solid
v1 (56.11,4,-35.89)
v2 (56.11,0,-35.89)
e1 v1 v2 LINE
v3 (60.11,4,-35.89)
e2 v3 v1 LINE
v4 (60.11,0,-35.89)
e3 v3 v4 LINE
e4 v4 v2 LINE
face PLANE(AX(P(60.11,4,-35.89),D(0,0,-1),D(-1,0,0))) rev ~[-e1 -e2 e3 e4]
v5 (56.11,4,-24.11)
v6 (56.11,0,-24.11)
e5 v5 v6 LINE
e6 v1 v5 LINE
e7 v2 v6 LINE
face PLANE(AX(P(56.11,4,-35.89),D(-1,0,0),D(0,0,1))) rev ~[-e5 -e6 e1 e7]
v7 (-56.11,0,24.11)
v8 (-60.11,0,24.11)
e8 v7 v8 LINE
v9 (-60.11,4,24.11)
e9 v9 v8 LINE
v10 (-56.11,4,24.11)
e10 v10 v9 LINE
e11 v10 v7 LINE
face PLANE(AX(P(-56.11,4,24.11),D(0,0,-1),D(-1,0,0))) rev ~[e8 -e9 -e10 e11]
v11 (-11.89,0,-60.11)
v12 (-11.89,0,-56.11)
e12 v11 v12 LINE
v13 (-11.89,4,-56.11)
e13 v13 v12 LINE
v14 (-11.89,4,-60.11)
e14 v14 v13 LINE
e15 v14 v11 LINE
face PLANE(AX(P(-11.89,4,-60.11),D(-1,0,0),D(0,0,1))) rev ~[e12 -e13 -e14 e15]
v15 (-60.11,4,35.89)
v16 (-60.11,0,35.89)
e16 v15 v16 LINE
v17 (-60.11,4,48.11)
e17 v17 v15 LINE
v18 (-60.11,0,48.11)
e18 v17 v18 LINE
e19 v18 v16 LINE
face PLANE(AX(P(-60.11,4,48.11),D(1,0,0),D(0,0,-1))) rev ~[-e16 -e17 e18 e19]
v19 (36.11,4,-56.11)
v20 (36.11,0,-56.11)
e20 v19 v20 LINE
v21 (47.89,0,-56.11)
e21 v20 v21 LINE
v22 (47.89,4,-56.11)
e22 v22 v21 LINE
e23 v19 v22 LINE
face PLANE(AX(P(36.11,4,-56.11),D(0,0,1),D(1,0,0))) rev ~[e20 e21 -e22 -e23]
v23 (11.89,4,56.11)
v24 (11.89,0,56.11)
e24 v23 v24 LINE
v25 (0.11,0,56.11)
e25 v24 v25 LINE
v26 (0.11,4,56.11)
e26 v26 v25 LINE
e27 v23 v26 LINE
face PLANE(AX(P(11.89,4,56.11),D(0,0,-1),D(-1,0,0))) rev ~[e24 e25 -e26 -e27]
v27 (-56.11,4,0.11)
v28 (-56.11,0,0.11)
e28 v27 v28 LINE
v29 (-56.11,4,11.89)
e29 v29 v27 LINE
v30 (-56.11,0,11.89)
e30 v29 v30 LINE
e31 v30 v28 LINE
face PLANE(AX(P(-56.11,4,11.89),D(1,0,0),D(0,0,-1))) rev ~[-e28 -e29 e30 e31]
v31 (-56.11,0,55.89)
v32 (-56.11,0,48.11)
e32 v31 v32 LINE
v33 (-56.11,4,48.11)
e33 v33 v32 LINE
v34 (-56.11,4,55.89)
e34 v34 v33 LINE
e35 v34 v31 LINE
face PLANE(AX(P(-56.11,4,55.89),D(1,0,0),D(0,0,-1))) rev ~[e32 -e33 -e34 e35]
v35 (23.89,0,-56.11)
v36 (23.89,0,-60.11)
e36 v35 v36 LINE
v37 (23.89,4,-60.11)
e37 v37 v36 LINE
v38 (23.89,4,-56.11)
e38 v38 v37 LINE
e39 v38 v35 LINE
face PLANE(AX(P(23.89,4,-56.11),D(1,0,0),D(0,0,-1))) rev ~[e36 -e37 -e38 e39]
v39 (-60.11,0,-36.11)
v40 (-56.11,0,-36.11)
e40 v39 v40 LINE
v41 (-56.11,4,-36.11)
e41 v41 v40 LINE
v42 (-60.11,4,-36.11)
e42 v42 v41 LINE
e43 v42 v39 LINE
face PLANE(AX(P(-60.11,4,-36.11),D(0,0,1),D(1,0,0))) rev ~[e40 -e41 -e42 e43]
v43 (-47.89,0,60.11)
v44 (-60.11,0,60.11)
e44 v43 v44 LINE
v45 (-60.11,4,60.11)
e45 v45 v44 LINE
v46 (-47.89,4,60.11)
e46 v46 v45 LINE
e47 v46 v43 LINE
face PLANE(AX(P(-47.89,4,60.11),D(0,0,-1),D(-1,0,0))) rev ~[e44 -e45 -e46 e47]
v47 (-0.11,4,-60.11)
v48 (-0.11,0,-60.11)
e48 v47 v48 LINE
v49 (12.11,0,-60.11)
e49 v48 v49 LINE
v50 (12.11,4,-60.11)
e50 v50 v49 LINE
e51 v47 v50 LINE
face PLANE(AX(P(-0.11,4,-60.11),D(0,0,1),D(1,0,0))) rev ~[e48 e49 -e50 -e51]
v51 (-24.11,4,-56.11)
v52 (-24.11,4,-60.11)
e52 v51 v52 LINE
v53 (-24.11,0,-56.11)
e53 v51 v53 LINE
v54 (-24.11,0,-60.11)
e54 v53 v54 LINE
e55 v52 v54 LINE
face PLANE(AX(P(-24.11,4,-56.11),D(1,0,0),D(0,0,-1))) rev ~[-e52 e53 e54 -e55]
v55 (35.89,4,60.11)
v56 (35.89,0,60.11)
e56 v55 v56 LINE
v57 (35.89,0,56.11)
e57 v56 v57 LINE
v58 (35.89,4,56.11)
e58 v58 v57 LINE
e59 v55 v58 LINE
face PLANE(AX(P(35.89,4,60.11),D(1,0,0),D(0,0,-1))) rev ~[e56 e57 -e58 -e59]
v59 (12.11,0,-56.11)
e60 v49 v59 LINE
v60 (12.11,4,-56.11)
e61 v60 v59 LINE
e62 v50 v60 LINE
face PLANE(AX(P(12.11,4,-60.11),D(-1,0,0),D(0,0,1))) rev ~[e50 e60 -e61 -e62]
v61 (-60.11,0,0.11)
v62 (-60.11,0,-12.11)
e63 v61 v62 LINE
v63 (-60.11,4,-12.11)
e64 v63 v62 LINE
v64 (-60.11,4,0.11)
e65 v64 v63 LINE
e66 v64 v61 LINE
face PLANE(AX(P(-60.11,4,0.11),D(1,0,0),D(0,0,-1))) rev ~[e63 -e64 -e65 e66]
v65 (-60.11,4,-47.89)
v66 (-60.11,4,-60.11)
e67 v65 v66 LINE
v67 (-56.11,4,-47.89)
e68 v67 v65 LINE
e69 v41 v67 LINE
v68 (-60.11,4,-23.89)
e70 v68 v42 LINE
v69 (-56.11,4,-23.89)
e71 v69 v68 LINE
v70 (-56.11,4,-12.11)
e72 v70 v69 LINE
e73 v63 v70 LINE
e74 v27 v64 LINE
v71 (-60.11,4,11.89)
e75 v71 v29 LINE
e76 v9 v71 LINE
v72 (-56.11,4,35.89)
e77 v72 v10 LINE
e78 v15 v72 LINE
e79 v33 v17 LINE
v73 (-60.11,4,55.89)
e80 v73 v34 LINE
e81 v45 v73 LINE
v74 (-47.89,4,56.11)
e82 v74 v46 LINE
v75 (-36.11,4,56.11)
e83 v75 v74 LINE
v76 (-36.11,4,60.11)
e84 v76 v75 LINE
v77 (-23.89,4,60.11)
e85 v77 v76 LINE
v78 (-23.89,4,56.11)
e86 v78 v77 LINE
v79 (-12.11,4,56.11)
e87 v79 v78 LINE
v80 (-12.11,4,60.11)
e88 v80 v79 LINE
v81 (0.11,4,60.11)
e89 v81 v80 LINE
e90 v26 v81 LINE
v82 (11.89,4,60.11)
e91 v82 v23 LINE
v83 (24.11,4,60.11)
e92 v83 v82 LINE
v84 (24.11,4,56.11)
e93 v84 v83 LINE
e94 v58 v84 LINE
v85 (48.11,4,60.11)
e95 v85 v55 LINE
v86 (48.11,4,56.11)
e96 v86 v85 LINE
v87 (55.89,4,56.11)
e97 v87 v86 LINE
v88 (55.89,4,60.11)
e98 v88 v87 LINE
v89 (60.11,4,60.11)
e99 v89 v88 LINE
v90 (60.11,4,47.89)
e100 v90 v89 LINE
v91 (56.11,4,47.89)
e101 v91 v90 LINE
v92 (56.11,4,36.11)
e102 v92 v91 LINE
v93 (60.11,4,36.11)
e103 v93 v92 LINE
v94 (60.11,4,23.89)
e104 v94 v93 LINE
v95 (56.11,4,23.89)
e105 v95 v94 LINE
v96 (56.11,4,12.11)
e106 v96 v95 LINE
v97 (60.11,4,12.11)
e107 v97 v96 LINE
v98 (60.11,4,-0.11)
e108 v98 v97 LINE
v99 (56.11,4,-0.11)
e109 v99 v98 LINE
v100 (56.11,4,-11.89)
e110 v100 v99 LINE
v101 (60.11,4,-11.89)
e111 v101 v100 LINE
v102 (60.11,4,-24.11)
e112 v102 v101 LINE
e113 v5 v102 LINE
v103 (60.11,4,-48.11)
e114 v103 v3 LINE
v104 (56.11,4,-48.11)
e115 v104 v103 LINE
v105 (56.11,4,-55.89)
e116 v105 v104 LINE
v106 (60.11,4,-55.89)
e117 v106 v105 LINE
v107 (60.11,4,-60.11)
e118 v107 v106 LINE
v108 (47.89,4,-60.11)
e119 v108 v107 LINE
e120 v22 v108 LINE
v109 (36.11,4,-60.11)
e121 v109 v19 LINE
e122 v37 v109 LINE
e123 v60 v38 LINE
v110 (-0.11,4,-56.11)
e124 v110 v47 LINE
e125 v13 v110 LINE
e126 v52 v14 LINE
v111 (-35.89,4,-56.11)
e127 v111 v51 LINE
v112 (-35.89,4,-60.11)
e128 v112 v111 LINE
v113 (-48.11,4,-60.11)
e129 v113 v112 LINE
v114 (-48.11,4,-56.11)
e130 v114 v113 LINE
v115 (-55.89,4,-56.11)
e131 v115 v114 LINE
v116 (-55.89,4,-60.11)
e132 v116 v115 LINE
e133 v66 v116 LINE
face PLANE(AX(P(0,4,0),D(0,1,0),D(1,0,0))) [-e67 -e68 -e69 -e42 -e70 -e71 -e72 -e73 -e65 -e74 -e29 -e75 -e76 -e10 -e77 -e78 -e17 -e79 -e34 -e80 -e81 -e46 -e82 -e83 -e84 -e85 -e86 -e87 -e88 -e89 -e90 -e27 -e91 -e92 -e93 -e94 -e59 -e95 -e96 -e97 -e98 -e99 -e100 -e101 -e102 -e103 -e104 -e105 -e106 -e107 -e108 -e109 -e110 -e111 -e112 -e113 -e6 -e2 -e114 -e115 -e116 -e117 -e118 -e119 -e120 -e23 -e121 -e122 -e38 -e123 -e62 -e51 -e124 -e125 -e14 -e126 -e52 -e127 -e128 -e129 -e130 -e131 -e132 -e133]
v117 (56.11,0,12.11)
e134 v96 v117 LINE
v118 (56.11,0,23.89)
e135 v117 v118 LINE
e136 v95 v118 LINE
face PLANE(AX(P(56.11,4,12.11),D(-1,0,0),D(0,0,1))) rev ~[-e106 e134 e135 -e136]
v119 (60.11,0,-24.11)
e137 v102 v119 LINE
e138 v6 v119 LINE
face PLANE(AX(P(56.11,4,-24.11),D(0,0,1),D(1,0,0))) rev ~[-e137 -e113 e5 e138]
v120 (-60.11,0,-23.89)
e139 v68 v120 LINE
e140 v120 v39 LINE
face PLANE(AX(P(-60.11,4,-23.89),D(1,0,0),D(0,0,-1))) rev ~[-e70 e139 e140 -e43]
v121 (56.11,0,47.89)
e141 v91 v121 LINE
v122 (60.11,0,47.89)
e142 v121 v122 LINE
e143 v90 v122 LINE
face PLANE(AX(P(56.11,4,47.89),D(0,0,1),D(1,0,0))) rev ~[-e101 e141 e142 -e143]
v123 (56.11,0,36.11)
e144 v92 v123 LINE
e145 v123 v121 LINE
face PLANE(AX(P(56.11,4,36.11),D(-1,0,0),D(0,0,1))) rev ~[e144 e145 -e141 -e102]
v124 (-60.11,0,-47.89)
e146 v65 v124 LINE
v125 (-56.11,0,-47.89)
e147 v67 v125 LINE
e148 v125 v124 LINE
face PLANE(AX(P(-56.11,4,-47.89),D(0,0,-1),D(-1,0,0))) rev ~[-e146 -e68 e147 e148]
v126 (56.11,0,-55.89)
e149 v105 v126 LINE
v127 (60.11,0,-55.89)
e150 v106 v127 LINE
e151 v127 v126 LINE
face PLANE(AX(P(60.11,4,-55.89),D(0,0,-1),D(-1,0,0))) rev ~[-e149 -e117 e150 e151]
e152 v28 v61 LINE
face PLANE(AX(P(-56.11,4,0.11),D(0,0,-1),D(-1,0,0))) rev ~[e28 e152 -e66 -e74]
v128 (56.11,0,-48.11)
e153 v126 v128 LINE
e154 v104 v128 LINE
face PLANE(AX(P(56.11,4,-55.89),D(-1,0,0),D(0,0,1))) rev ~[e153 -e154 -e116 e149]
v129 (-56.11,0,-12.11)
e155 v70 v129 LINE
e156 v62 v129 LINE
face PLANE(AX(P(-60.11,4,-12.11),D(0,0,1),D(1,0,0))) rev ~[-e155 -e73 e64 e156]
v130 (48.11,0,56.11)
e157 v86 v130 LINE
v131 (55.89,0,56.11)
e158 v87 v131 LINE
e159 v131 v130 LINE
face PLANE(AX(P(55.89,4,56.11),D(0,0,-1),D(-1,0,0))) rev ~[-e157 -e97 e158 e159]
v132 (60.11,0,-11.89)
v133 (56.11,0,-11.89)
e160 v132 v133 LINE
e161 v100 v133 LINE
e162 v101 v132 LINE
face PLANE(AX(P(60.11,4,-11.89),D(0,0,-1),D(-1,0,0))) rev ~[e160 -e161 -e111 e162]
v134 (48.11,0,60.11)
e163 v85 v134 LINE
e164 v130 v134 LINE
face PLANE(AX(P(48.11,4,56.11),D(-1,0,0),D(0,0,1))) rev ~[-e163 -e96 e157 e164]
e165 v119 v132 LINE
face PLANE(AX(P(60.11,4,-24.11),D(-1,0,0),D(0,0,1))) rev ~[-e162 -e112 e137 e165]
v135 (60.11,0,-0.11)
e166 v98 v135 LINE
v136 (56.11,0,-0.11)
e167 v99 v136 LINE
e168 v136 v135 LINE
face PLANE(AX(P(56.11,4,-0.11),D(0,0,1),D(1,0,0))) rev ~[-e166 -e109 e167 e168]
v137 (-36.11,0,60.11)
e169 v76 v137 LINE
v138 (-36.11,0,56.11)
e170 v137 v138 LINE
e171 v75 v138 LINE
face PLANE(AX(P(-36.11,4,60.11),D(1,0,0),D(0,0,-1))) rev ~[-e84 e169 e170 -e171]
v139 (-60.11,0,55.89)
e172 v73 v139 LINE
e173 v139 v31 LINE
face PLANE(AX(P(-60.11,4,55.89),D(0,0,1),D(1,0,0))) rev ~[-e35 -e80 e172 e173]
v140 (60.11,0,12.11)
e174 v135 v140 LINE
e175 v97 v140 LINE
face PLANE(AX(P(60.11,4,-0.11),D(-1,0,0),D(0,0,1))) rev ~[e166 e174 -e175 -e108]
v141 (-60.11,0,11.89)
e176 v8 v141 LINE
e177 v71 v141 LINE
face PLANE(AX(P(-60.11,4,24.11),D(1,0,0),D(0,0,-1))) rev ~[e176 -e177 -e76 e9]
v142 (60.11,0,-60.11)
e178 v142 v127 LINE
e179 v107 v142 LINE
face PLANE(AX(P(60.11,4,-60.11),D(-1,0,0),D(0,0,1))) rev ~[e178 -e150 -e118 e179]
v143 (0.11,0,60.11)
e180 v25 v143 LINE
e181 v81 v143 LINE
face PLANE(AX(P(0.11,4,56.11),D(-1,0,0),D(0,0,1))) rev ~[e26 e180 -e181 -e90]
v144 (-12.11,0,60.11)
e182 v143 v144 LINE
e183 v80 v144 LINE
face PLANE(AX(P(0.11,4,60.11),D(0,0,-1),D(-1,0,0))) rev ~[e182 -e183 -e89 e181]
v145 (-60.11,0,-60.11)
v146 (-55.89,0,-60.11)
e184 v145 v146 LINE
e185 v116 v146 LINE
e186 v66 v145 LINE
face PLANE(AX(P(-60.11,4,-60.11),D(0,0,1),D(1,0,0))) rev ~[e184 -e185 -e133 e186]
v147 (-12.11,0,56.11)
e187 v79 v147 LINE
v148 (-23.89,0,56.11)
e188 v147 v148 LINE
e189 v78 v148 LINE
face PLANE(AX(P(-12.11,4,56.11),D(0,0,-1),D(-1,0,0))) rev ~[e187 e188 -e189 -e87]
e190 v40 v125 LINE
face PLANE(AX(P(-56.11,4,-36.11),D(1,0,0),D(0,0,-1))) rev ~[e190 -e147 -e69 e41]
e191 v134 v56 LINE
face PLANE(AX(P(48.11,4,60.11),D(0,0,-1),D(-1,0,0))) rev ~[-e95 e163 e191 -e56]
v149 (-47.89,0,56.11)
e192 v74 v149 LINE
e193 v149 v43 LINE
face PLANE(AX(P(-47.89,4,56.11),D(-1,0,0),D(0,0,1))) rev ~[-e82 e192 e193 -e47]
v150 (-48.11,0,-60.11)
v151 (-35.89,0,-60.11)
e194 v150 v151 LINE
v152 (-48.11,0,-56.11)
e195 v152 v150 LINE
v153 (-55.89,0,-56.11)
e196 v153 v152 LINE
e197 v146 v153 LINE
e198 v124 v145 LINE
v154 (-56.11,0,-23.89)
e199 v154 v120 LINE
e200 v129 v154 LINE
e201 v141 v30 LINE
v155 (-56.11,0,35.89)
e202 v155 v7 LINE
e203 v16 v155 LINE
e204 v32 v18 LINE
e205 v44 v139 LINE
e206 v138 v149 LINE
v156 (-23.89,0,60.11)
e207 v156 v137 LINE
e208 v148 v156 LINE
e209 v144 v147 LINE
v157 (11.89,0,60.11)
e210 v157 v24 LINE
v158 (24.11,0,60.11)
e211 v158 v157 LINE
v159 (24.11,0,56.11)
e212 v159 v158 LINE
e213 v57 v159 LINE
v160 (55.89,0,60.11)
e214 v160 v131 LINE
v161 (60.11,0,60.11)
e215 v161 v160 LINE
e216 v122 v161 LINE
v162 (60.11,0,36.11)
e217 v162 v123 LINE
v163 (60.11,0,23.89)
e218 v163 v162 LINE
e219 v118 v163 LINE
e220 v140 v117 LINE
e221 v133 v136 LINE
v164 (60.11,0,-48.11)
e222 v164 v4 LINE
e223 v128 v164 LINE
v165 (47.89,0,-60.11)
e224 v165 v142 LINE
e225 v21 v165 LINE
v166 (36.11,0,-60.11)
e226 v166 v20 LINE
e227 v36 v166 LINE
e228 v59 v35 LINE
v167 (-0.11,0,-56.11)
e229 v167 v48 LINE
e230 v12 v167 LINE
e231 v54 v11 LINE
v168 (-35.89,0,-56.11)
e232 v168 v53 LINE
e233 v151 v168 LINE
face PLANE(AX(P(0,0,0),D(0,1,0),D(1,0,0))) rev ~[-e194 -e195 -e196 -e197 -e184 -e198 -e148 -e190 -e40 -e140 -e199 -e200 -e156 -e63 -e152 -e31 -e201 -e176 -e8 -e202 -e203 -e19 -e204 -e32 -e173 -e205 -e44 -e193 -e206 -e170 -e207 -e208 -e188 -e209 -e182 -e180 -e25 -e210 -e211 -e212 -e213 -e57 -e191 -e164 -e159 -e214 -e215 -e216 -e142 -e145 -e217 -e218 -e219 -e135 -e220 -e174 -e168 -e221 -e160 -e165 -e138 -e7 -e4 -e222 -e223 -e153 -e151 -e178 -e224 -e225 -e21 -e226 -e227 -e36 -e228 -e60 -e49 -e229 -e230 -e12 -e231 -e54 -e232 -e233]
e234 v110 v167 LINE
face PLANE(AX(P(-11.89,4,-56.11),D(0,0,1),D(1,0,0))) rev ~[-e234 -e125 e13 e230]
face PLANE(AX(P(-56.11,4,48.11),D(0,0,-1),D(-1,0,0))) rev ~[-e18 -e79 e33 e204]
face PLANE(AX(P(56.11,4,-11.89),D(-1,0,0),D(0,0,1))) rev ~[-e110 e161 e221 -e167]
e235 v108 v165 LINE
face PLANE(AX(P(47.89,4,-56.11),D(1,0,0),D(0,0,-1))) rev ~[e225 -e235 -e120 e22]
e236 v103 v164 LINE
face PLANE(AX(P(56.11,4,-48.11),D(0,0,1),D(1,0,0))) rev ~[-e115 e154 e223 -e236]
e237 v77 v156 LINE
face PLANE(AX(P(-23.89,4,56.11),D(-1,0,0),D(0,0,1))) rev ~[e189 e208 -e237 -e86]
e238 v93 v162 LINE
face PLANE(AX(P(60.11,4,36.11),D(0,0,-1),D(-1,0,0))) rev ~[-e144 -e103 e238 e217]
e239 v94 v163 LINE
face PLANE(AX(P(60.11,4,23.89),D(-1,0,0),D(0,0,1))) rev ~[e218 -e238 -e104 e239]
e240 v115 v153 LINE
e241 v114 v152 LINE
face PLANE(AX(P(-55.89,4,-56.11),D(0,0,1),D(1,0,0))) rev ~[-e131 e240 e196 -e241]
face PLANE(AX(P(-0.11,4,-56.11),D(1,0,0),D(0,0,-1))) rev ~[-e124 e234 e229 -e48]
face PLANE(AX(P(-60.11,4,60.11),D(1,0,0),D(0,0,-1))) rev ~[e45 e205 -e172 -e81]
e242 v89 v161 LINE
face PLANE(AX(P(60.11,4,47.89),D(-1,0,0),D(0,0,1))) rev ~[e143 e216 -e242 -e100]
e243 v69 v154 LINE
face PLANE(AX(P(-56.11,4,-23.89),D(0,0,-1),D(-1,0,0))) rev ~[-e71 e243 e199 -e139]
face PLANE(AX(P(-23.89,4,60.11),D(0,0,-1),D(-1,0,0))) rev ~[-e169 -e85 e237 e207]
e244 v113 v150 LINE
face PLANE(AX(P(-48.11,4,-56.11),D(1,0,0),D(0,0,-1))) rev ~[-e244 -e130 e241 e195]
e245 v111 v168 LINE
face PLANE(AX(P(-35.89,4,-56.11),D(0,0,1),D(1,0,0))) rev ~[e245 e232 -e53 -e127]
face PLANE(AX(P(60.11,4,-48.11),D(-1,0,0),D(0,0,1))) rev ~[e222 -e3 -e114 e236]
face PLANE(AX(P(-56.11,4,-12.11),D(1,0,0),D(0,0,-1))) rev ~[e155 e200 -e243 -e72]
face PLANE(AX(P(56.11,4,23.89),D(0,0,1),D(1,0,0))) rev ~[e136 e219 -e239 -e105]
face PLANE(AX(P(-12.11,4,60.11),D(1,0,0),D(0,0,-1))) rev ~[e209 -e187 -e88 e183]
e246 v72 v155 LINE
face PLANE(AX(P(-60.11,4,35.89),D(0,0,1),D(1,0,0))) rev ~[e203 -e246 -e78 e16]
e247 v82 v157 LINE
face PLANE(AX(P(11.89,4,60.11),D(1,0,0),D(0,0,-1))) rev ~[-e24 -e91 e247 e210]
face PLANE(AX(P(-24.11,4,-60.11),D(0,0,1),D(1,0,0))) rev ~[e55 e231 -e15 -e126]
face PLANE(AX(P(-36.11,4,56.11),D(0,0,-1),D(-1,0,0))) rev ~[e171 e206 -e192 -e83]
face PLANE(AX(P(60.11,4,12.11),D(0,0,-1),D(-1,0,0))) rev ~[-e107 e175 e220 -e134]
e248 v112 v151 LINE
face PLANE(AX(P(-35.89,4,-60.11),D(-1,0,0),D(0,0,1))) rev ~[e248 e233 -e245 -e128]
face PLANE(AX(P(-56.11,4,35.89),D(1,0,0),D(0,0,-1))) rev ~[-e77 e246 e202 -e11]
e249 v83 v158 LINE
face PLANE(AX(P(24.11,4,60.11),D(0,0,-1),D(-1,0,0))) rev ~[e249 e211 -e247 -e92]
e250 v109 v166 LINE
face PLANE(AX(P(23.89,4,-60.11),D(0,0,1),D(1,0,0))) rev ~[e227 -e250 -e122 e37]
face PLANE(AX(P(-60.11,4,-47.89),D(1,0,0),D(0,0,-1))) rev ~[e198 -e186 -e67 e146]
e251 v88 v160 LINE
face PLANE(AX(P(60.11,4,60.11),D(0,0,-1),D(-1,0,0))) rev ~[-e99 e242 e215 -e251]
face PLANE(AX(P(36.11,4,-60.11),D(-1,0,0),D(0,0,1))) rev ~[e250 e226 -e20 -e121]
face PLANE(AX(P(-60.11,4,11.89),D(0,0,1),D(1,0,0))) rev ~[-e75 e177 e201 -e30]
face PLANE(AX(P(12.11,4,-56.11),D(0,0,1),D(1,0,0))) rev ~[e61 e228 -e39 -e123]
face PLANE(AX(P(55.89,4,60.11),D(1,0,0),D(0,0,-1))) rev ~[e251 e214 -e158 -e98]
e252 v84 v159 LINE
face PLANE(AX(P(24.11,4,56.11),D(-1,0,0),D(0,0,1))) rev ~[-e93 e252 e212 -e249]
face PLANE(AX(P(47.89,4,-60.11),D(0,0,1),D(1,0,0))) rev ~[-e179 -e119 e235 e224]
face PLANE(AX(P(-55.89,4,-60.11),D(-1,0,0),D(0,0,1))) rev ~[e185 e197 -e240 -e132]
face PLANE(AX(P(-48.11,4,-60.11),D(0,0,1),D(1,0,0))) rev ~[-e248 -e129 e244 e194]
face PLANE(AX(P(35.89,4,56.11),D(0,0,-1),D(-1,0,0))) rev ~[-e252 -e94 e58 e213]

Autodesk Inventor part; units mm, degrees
ref_plane "YZ Plane" through (0, 0, 0) normal (1, 0, 0) x (0, 1, 0)
ref_plane "XZ Plane" through (0, 0, 0) normal (0, 1, 0) x (-1, 0, 0)
ref_plane "XY Plane" through (0, 0, 0) normal (0, 0, 1) x (1, 0, 0)
sketch "Sketch1" plane through (0, 0, 0) normal (0, 1, 0) x (-1, 0, 0)
  line L0 (60, 60) -> (-60, 60)
  line L1 (-60, 60) -> (-60, -60)
  line L2 (-60, -60) -> (60, -60)
  line L3 (60, -60) -> (60, 60)
  point P0 (0, 0)
  dimension "d2" = 120
  dimension "d3" = 120
  dimension "d4" = 60
  dimension "d5" = 60
extrude "Extrusion1" add sketch "Sketch1" along normal blind 4
sketch "Sketch2" plane through (-60, 0, -60) normal (-1, 0, 0) x (0, 0, 1)
  line L0 (12, 0) -> (24, 0)
  line L1 (24, 0) -> (24, 4)
  line L2 (24, 4) -> (12, 4)
  line L3 (12, 4) -> (12, 0)
  line L4 (0, 4) -> (120, 4) projected
  line L5 (0, 0) -> (0, 4) projected
  point P0 (60, 0)
  dimension "d8" = 12
  dimension "d9" = 4
  dimension "d10" = 0
  dimension "d11" = 12
extrude "Extrusion2" cut sketch "Sketch2" against normal blind 4
pattern_linear "Rectangular Pattern1" count 5 spacing 24 along (0, 0, 1) of "Extrusion2"
sketch "Sketch3" plane through (-56, 0, 60) normal (-1, 0, 0) x (0, 0, 1)
  line L0 (0, 0) -> (-4, 0)
  line L1 (-4, 0) -> (-4, 4)
  line L2 (-4, 4) -> (0, 4)
  line L3 (0, 4) -> (0, 0)
  line L4 (0, 0) -> (0, 4) projected
  line L5 (0, 4) -> (-120, 4) projected
  point P0 (-60, 0)
  dimension "d23" = 4
  dimension "d24" = 4
  dimension "d25" = 0
  dimension "d26" = 0
extrude "Extrusion3" add sketch "Sketch3" along normal blind 4
pattern_circular "Circular Pattern3" count 4 over 360 about axis through (0, -10, 0) along (0, 1, 0) of "Extrusion3", "Extrusion2", "Rectangular Pattern1"
sketch "Sketch4" plane through (0, 4, 0) normal (0, 1, 0) x (1, 0, 0)
  line L0 (-48, 56) -> (-56, 56) projected
  line L1 (-56, 56) -> (-56, 60) projected
  line L2 (-60, 60) -> (-56, 60) projected
  line L3 (-60, 60) -> (-60, 48) projected
  line L4 (-60, 48) -> (-56, 48) projected
  line L5 (-56, 48) -> (-56, 36) projected
  line L6 (-56, 36) -> (-60, 36) projected
  line L7 (-60, 36) -> (-60, 24) projected
  line L8 (-60, 24) -> (-56, 24) projected
  line L9 (-56, 24) -> (-56, 12) projected
  line L10 (-56, 12) -> (-60, 12) projected
  line L11 (-60, 12) -> (-60, 0) projected
  line L12 (-60, 0) -> (-56, 0) projected
  line L13 (-56, 0) -> (-56, -12) projected
  line L14 (-56, -12) -> (-60, -12) projected
  line L15 (-60, -12) -> (-60, -24) projected
  line L16 (-60, -24) -> (-56, -24) projected
  line L17 (-56, -24) -> (-56, -36) projected
  line L18 (-56, -36) -> (-60, -36) projected
  line L19 (-60, -36) -> (-60, -48) projected
  line L20 (-60, -48) -> (-56, -48) projected
  line L21 (-56, -48) -> (-56, -56) projected
  line L22 (-56, -56) -> (-60, -56) projected
  line L23 (-60, -60) -> (-60, -56) projected
  line L24 (-60, -60) -> (-48, -60) projected
  line L25 (-48, -60) -> (-48, -56) projected
  line L26 (-48, -56) -> (-36, -56) projected
  line L27 (-36, -56) -> (-36, -60) projected
  line L28 (-36, -60) -> (-24, -60) projected
  line L29 (-24, -60) -> (-24, -56) projected
  line L30 (-24, -56) -> (-12, -56) projected
  line L31 (-12, -56) -> (-12, -60) projected
  line L32 (-12, -60) -> (0, -60) projected
  line L33 (0, -60) -> (0, -56) projected
  line L34 (0, -56) -> (12, -56) projected
  line L35 (12, -56) -> (12, -60) projected
  line L36 (12, -60) -> (24, -60) projected
  line L37 (24, -60) -> (24, -56) projected
  line L38 (24, -56) -> (36, -56) projected
  line L39 (36, -56) -> (36, -60) projected
  line L40 (36, -60) -> (48, -60) projected
  line L41 (48, -60) -> (48, -56) projected
  line L42 (48, -56) -> (56, -56) projected
  line L43 (56, -56) -> (56, -60) projected
  line L44 (60, -60) -> (56, -60) projected
  line L45 (60, -60) -> (60, -48) projected
  line L46 (60, -48) -> (56, -48) projected
  line L47 (56, -48) -> (56, -36) projected
  line L48 (56, -36) -> (60, -36) projected
  line L49 (60, -36) -> (60, -24) projected
  line L50 (60, -24) -> (56, -24) projected
  line L51 (56, -24) -> (56, -12) projected
  line L52 (56, -12) -> (60, -12) projected
  line L53 (60, -12) -> (60, 0) projected
  line L54 (60, 0) -> (56, 0) projected
  line L55 (56, 0) -> (56, 12) projected
  line L56 (56, 12) -> (60, 12) projected
  line L57 (60, 12) -> (60, 24) projected
  line L58 (60, 24) -> (56, 24) projected
  line L59 (56, 24) -> (56, 36) projected
  line L60 (56, 36) -> (60, 36) projected
  line L61 (60, 36) -> (60, 48) projected
  line L62 (60, 48) -> (56, 48) projected
  line L63 (56, 48) -> (56, 56) projected
  line L64 (56, 56) -> (60, 56) projected
  line L65 (60, 60) -> (60, 56) projected
  line L66 (60, 60) -> (48, 60) projected
  line L67 (48, 60) -> (48, 56) projected
  line L68 (48, 56) -> (36, 56) projected
  line L69 (36, 56) -> (36, 60) projected
  line L70 (36, 60) -> (24, 60) projected
  line L71 (24, 60) -> (24, 56) projected
  line L72 (24, 56) -> (12, 56) projected
  line L73 (12, 56) -> (12, 60) projected
  line L74 (12, 60) -> (0, 60) projected
  line L75 (0, 60) -> (0, 56) projected
  line L76 (0, 56) -> (-12, 56) projected
  line L77 (-12, 56) -> (-12, 60) projected
  line L78 (-12, 60) -> (-24, 60) projected
  line L79 (-24, 60) -> (-24, 56) projected
  line L80 (-24, 56) -> (-36, 56) projected
  line L81 (-36, 56) -> (-36, 60) projected
  line L82 (-36, 60) -> (-48, 60) projected
  line L83 (-48, 60) -> (-48, 56) projected
  line L84 (-48.11, 60.11) -> (-35.89, 60.11)
  line L85 (-35.89, 60.11) -> (-35.89, 56.11)
  line L86 (-35.89, 56.11) -> (-24.11, 56.11)
  line L87 (-24.11, 56.11) -> (-24.11, 60.11)
  line L88 (-24.11, 60.11) -> (-11.89, 60.11)
  line L89 (-11.89, 60.11) -> (-11.89, 56.11)
  line L90 (-11.89, 56.11) -> (-0.11, 56.11)
  line L91 (-0.11, 56.11) -> (-0.11, 60.11)
  line L92 (-0.11, 60.11) -> (12.11, 60.11)
  line L93 (12.11, 60.11) -> (12.11, 56.11)
  line L94 (12.11, 56.11) -> (23.89, 56.11)
  line L95 (23.89, 56.11) -> (23.89, 60.11)
  line L96 (23.89, 60.11) -> (36.11, 60.11)
  line L97 (36.11, 60.11) -> (36.11, 56.11)
  line L98 (36.11, 56.11) -> (47.89, 56.11)
  line L99 (47.89, 56.11) -> (47.89, 60.11)
  line L100 (47.89, 60.11) -> (60.11, 60.11)
  line L101 (60.11, 60.11) -> (60.11, 55.89)
  line L102 (60.11, 55.89) -> (56.11, 55.89)
  line L103 (56.11, 55.89) -> (56.11, 48.11)
  line L104 (56.11, 48.11) -> (60.11, 48.11)
  line L105 (60.11, 48.11) -> (60.11, 35.89)
  line L106 (60.11, 35.89) -> (56.11, 35.89)
  line L107 (56.11, 35.89) -> (56.11, 24.11)
  line L108 (56.11, 24.11) -> (60.11, 24.11)
  line L109 (60.11, 24.11) -> (60.11, 11.89)
  line L110 (60.11, 11.89) -> (56.11, 11.89)
  line L111 (56.11, 11.89) -> (56.11, 0.11)
  line L112 (56.11, 0.11) -> (60.11, 0.11)
  line L113 (60.11, 0.11) -> (60.11, -12.11)
  line L114 (60.11, -12.11) -> (56.11, -12.11)
  line L115 (56.11, -12.11) -> (56.11, -23.89)
  line L116 (56.11, -23.89) -> (60.11, -23.89)
  line L117 (60.11, -23.89) -> (60.11, -36.11)
  line L118 (60.11, -36.11) -> (56.11, -36.11)
  line L119 (56.11, -36.11) -> (56.11, -47.89)
  line L120 (56.11, -47.89) -> (60.11, -47.89)
  line L121 (60.11, -47.89) -> (60.11, -60.11)
  line L122 (60.11, -60.11) -> (55.89, -60.11)
  line L123 (55.89, -60.11) -> (55.89, -56.11)
  line L124 (55.89, -56.11) -> (48.11, -56.11)
  line L125 (48.11, -56.11) -> (48.11, -60.11)
  line L126 (48.11, -60.11) -> (35.89, -60.11)
  line L127 (35.89, -60.11) -> (35.89, -56.11)
  line L128 (35.89, -56.11) -> (24.11, -56.11)
  line L129 (24.11, -56.11) -> (24.11, -60.11)
  line L130 (24.11, -60.11) -> (11.89, -60.11)
  line L131 (11.89, -60.11) -> (11.89, -56.11)
  line L132 (11.89, -56.11) -> (0.11, -56.11)
  line L133 (0.11, -56.11) -> (0.11, -60.11)
  line L134 (0.11, -60.11) -> (-12.11, -60.11)
  line L135 (-12.11, -60.11) -> (-12.11, -56.11)
  line L136 (-12.11, -56.11) -> (-23.89, -56.11)
  line L137 (-23.89, -56.11) -> (-23.89, -60.11)
  line L138 (-23.89, -60.11) -> (-36.11, -60.11)
  line L139 (-36.11, -60.11) -> (-36.11, -56.11)
  line L140 (-36.11, -56.11) -> (-47.89, -56.11)
  line L141 (-47.89, -56.11) -> (-47.89, -60.11)
  line L142 (-47.89, -60.11) -> (-60.11, -60.11)
  line L143 (-60.11, -60.11) -> (-60.11, -55.89)
  line L144 (-60.11, -55.89) -> (-56.11, -55.89)
  line L145 (-56.11, -55.89) -> (-56.11, -48.11)
  line L146 (-56.11, -48.11) -> (-60.11, -48.11)
  line L147 (-60.11, -48.11) -> (-60.11, -35.89)
  line L148 (-60.11, -35.89) -> (-56.11, -35.89)
  line L149 (-56.11, -35.89) -> (-56.11, -24.11)
  line L150 (-56.11, -24.11) -> (-60.11, -24.11)
  line L151 (-60.11, -24.11) -> (-60.11, -11.89)
  line L152 (-60.11, -11.89) -> (-56.11, -11.89)
  line L153 (-56.11, -11.89) -> (-56.11, -0.11)
  line L154 (-56.11, -0.11) -> (-60.11, -0.11)
  line L155 (-60.11, -0.11) -> (-60.11, 12.11)
  line L156 (-60.11, 12.11) -> (-56.11, 12.11)
  line L157 (-56.11, 12.11) -> (-56.11, 23.89)
  line L158 (-56.11, 23.89) -> (-60.11, 23.89)
  line L159 (-60.11, 23.89) -> (-60.11, 36.11)
  line L160 (-60.11, 36.11) -> (-56.11, 36.11)
  line L161 (-56.11, 36.11) -> (-56.11, 47.89)
  line L162 (-56.11, 47.89) -> (-60.11, 47.89)
  line L163 (-60.11, 47.89) -> (-60.11, 60.11)
  line L164 (-60.11, 60.11) -> (-55.89, 60.11)
  line L165 (-55.89, 60.11) -> (-55.89, 56.11)
  line L166 (-55.89, 56.11) -> (-48.11, 56.11)
  line L167 (-48.11, 56.11) -> (-48.11, 60.11)
  point P0 (0, 0)
  dimension "d32" = 0.11
extrude "Extrusion4" add sketch "Sketch4" against normal blind 4 contours L83 L82 L81 L80 L79 L78 L77 L76 L75 L74 L73 L72 L71 L70 L69 L68 L67 L66 L65 L64 L63 L62 L61 L60 L59 L58 L57 L56 L55 L54 L53 L52 L51 L50 L49 L48 L47 L46 L45 L44 L43 L42 L41 L40 L39 L38 L37 L36 L35 L34 L33 L32 L31 L30 L29 L28 L27 L26 L25 L24 L23 L22 L21 L20 L19 L18 L17 L16 L15 L14 L13 L12 L11 L10 L9 L8 L7 L6 L5 L4 L3 L2 L1 L0 | L84 L85 L86 L87 L88 L89 L90 L91 L92 L93 L94 L95 L96 L97 L98 L99 L100 L101 L102 L103 L104 L105 L106 L107 L108 L109 L110 L111 L112 L113 L114 L115 L116 L117 L118 L119 L120 L121 L122 L123 L124 L125 L126 L127 L128 L129 L130 L131 L132 L133 L134 L135 L136 L137 L138 L139 L140 L141 L142 L143 L144 L145 L146 L147 L148 L149 L150 L151 L152 L153 L154 L155 L156 L157 L158 L159 L160 L161 L162 L163 L164 L165 L166 L167
sketch "Sketch5" plane through (0, 0, 0) normal (0, -1, 0) x (1, 0, 0)
  line L0 (-55.89, -56.11) -> (-48.11, -56.11) projected
  line L1 (-48.11, -56.11) -> (-48.11, -60.11) projected
  line L2 (-48.11, -60.11) -> (-35.89, -60.11) projected
  line L3 (-35.89, -60.11) -> (-35.89, -56.11) projected
  line L4 (-35.89, -56.11) -> (-24.11, -56.11) projected
  line L5 (-24.11, -56.11) -> (-24.11, -60.11) projected
  line L6 (-24.11, -60.11) -> (-11.89, -60.11) projected
  line L7 (-11.89, -60.11) -> (-11.89, -56.11) projected
  line L8 (-11.89, -56.11) -> (-0.11, -56.11) projected
  line L9 (-0.11, -56.11) -> (-0.11, -60.11) projected
  line L10 (-0.11, -60.11) -> (12.11, -60.11) projected
  line L11 (12.11, -60.11) -> (12.11, -56.11) projected
  line L12 (12.11, -56.11) -> (23.89, -56.11) projected
  line L13 (23.89, -56.11) -> (23.89, -60.11) projected
  line L14 (23.89, -60.11) -> (36.11, -60.11) projected
  line L15 (36.11, -60.11) -> (36.11, -56.11) projected
  line L16 (36.11, -56.11) -> (47.89, -56.11) projected
  line L17 (47.89, -56.11) -> (47.89, -60.11) projected
  line L18 (47.89, -60.11) -> (60.11, -60.11) projected
  line L19 (60.11, -60.11) -> (60.11, -55.89) projected
  line L20 (60.11, -55.89) -> (56.11, -55.89) projected
  line L21 (56.11, -55.89) -> (56.11, -48.11) projected
  line L22 (56.11, -48.11) -> (60.11, -48.11) projected
  line L23 (60.11, -48.11) -> (60.11, -35.89) projected
  line L24 (60.11, -35.89) -> (56.11, -35.89) projected
  line L25 (56.11, -35.89) -> (56.11, -24.11) projected
  line L26 (56.11, -24.11) -> (60.11, -24.11) projected
  line L27 (60.11, -24.11) -> (60.11, -11.89) projected
  line L28 (60.11, -11.89) -> (56.11, -11.89) projected
  line L29 (56.11, -11.89) -> (56.11, -0.11) projected
  line L30 (56.11, -0.11) -> (60.11, -0.11) projected
  line L31 (60.11, -0.11) -> (60.11, 12.11) projected
  line L32 (60.11, 12.11) -> (56.11, 12.11) projected
  line L33 (56.11, 12.11) -> (56.11, 23.89) projected
  line L34 (56.11, 23.89) -> (60.11, 23.89) projected
  line L35 (60.11, 23.89) -> (60.11, 36.11) projected
  line L36 (60.11, 36.11) -> (56.11, 36.11) projected
  line L37 (56.11, 36.11) -> (56.11, 47.89) projected
  line L38 (56.11, 47.89) -> (60.11, 47.89) projected
  line L39 (60.11, 47.89) -> (60.11, 60.11) projected
  line L40 (60.11, 60.11) -> (55.89, 60.11) projected
  line L41 (55.89, 60.11) -> (55.89, 56.11) projected
  line L42 (55.89, 56.11) -> (48.11, 56.11) projected
  line L43 (48.11, 56.11) -> (48.11, 60.11) projected
  line L44 (48.11, 60.11) -> (35.89, 60.11) projected
  line L45 (35.89, 60.11) -> (35.89, 56.11) projected
  line L46 (35.89, 56.11) -> (24.11, 56.11) projected
  line L47 (24.11, 56.11) -> (24.11, 60.11) projected
  line L48 (24.11, 60.11) -> (11.89, 60.11) projected
  line L49 (11.89, 60.11) -> (11.89, 56.11) projected
  line L50 (11.89, 56.11) -> (0.11, 56.11) projected
  line L51 (0.11, 56.11) -> (0.11, 60.11) projected
  line L52 (0.11, 60.11) -> (-12.11, 60.11) projected
  line L53 (-12.11, 60.11) -> (-12.11, 56.11) projected
  line L54 (-12.11, 56.11) -> (-23.89, 56.11) projected
  line L55 (-23.89, 56.11) -> (-23.89, 60.11) projected
  line L56 (-23.89, 60.11) -> (-36.11, 60.11) projected
  line L57 (-36.11, 60.11) -> (-36.11, 56.11) projected
  line L58 (-36.11, 56.11) -> (-47.89, 56.11) projected
  line L59 (-47.89, 56.11) -> (-47.89, 60.11) projected
  line L60 (-47.89, 60.11) -> (-60.11, 60.11) projected
  line L61 (-60.11, 60.11) -> (-60.11, 55.89) projected
  line L62 (-60.11, 55.89) -> (-56.11, 55.89) projected
  line L63 (-56.11, 55.89) -> (-56.11, 48.11) projected
  line L64 (-56.11, 48.11) -> (-60.11, 48.11) projected
  line L65 (-60.11, 48.11) -> (-60.11, 35.89) projected
  line L66 (-60.11, 35.89) -> (-56.11, 35.89) projected
  line L67 (-56.11, 35.89) -> (-56.11, 24.11) projected
  line L68 (-56.11, 24.11) -> (-60.11, 24.11) projected
  line L69 (-60.11, 24.11) -> (-60.11, 11.89) projected
  line L70 (-60.11, 11.89) -> (-56.11, 11.89) projected
  line L71 (-56.11, 11.89) -> (-56.11, 0.11) projected
  line L72 (-56.11, 0.11) -> (-60.11, 0.11) projected
  line L73 (-60.11, 0.11) -> (-60.11, -12.11) projected
  line L74 (-60.11, -12.11) -> (-56.11, -12.11) projected
  line L75 (-56.11, -12.11) -> (-56.11, -23.89) projected
  line L76 (-56.11, -23.89) -> (-60.11, -23.89) projected
  line L77 (-60.11, -23.89) -> (-60.11, -36.11) projected
  line L78 (-60.11, -36.11) -> (-56.11, -36.11) projected
  line L79 (-56.11, -36.11) -> (-56.11, -47.89) projected
  line L80 (-56.11, -47.89) -> (-60.11, -47.89) projected
  line L81 (-60.11, -47.89) -> (-60.11, -60.11) projected
  line L82 (-60.11, -60.11) -> (-55.89, -60.11) projected
  line L83 (-55.89, -60.11) -> (-55.89, -56.11) projected
  point P0 (0, 0)
equation "\"d2\" = width"
equation "\"d3\" = height"
equation "\"d4\" = 0.5 * width"
equation "\"d5\" = 0.5 * height"
equation "\"d8\" = finger"
equation "\"d9\" = thickness"
equation "\"d11\" = finger"
equation "\"d19\" = 2 * finger"
equation "\"d23\" = thickness"
equation "\"d24\" = 0.333333 * finger"
equation "\"d27\" = thickness"
equation "\"d32\" = 0.5 * kerf"
equation "\"d33\" = thickness"
equation "\"width\" = 120"
equation "\"height\" = 120"
equation "\"finger\" = 12"
equation "\"thickness\" = 4"
equation "\"kerf\" = 0.22"
properties part number "Lukt_botn"
